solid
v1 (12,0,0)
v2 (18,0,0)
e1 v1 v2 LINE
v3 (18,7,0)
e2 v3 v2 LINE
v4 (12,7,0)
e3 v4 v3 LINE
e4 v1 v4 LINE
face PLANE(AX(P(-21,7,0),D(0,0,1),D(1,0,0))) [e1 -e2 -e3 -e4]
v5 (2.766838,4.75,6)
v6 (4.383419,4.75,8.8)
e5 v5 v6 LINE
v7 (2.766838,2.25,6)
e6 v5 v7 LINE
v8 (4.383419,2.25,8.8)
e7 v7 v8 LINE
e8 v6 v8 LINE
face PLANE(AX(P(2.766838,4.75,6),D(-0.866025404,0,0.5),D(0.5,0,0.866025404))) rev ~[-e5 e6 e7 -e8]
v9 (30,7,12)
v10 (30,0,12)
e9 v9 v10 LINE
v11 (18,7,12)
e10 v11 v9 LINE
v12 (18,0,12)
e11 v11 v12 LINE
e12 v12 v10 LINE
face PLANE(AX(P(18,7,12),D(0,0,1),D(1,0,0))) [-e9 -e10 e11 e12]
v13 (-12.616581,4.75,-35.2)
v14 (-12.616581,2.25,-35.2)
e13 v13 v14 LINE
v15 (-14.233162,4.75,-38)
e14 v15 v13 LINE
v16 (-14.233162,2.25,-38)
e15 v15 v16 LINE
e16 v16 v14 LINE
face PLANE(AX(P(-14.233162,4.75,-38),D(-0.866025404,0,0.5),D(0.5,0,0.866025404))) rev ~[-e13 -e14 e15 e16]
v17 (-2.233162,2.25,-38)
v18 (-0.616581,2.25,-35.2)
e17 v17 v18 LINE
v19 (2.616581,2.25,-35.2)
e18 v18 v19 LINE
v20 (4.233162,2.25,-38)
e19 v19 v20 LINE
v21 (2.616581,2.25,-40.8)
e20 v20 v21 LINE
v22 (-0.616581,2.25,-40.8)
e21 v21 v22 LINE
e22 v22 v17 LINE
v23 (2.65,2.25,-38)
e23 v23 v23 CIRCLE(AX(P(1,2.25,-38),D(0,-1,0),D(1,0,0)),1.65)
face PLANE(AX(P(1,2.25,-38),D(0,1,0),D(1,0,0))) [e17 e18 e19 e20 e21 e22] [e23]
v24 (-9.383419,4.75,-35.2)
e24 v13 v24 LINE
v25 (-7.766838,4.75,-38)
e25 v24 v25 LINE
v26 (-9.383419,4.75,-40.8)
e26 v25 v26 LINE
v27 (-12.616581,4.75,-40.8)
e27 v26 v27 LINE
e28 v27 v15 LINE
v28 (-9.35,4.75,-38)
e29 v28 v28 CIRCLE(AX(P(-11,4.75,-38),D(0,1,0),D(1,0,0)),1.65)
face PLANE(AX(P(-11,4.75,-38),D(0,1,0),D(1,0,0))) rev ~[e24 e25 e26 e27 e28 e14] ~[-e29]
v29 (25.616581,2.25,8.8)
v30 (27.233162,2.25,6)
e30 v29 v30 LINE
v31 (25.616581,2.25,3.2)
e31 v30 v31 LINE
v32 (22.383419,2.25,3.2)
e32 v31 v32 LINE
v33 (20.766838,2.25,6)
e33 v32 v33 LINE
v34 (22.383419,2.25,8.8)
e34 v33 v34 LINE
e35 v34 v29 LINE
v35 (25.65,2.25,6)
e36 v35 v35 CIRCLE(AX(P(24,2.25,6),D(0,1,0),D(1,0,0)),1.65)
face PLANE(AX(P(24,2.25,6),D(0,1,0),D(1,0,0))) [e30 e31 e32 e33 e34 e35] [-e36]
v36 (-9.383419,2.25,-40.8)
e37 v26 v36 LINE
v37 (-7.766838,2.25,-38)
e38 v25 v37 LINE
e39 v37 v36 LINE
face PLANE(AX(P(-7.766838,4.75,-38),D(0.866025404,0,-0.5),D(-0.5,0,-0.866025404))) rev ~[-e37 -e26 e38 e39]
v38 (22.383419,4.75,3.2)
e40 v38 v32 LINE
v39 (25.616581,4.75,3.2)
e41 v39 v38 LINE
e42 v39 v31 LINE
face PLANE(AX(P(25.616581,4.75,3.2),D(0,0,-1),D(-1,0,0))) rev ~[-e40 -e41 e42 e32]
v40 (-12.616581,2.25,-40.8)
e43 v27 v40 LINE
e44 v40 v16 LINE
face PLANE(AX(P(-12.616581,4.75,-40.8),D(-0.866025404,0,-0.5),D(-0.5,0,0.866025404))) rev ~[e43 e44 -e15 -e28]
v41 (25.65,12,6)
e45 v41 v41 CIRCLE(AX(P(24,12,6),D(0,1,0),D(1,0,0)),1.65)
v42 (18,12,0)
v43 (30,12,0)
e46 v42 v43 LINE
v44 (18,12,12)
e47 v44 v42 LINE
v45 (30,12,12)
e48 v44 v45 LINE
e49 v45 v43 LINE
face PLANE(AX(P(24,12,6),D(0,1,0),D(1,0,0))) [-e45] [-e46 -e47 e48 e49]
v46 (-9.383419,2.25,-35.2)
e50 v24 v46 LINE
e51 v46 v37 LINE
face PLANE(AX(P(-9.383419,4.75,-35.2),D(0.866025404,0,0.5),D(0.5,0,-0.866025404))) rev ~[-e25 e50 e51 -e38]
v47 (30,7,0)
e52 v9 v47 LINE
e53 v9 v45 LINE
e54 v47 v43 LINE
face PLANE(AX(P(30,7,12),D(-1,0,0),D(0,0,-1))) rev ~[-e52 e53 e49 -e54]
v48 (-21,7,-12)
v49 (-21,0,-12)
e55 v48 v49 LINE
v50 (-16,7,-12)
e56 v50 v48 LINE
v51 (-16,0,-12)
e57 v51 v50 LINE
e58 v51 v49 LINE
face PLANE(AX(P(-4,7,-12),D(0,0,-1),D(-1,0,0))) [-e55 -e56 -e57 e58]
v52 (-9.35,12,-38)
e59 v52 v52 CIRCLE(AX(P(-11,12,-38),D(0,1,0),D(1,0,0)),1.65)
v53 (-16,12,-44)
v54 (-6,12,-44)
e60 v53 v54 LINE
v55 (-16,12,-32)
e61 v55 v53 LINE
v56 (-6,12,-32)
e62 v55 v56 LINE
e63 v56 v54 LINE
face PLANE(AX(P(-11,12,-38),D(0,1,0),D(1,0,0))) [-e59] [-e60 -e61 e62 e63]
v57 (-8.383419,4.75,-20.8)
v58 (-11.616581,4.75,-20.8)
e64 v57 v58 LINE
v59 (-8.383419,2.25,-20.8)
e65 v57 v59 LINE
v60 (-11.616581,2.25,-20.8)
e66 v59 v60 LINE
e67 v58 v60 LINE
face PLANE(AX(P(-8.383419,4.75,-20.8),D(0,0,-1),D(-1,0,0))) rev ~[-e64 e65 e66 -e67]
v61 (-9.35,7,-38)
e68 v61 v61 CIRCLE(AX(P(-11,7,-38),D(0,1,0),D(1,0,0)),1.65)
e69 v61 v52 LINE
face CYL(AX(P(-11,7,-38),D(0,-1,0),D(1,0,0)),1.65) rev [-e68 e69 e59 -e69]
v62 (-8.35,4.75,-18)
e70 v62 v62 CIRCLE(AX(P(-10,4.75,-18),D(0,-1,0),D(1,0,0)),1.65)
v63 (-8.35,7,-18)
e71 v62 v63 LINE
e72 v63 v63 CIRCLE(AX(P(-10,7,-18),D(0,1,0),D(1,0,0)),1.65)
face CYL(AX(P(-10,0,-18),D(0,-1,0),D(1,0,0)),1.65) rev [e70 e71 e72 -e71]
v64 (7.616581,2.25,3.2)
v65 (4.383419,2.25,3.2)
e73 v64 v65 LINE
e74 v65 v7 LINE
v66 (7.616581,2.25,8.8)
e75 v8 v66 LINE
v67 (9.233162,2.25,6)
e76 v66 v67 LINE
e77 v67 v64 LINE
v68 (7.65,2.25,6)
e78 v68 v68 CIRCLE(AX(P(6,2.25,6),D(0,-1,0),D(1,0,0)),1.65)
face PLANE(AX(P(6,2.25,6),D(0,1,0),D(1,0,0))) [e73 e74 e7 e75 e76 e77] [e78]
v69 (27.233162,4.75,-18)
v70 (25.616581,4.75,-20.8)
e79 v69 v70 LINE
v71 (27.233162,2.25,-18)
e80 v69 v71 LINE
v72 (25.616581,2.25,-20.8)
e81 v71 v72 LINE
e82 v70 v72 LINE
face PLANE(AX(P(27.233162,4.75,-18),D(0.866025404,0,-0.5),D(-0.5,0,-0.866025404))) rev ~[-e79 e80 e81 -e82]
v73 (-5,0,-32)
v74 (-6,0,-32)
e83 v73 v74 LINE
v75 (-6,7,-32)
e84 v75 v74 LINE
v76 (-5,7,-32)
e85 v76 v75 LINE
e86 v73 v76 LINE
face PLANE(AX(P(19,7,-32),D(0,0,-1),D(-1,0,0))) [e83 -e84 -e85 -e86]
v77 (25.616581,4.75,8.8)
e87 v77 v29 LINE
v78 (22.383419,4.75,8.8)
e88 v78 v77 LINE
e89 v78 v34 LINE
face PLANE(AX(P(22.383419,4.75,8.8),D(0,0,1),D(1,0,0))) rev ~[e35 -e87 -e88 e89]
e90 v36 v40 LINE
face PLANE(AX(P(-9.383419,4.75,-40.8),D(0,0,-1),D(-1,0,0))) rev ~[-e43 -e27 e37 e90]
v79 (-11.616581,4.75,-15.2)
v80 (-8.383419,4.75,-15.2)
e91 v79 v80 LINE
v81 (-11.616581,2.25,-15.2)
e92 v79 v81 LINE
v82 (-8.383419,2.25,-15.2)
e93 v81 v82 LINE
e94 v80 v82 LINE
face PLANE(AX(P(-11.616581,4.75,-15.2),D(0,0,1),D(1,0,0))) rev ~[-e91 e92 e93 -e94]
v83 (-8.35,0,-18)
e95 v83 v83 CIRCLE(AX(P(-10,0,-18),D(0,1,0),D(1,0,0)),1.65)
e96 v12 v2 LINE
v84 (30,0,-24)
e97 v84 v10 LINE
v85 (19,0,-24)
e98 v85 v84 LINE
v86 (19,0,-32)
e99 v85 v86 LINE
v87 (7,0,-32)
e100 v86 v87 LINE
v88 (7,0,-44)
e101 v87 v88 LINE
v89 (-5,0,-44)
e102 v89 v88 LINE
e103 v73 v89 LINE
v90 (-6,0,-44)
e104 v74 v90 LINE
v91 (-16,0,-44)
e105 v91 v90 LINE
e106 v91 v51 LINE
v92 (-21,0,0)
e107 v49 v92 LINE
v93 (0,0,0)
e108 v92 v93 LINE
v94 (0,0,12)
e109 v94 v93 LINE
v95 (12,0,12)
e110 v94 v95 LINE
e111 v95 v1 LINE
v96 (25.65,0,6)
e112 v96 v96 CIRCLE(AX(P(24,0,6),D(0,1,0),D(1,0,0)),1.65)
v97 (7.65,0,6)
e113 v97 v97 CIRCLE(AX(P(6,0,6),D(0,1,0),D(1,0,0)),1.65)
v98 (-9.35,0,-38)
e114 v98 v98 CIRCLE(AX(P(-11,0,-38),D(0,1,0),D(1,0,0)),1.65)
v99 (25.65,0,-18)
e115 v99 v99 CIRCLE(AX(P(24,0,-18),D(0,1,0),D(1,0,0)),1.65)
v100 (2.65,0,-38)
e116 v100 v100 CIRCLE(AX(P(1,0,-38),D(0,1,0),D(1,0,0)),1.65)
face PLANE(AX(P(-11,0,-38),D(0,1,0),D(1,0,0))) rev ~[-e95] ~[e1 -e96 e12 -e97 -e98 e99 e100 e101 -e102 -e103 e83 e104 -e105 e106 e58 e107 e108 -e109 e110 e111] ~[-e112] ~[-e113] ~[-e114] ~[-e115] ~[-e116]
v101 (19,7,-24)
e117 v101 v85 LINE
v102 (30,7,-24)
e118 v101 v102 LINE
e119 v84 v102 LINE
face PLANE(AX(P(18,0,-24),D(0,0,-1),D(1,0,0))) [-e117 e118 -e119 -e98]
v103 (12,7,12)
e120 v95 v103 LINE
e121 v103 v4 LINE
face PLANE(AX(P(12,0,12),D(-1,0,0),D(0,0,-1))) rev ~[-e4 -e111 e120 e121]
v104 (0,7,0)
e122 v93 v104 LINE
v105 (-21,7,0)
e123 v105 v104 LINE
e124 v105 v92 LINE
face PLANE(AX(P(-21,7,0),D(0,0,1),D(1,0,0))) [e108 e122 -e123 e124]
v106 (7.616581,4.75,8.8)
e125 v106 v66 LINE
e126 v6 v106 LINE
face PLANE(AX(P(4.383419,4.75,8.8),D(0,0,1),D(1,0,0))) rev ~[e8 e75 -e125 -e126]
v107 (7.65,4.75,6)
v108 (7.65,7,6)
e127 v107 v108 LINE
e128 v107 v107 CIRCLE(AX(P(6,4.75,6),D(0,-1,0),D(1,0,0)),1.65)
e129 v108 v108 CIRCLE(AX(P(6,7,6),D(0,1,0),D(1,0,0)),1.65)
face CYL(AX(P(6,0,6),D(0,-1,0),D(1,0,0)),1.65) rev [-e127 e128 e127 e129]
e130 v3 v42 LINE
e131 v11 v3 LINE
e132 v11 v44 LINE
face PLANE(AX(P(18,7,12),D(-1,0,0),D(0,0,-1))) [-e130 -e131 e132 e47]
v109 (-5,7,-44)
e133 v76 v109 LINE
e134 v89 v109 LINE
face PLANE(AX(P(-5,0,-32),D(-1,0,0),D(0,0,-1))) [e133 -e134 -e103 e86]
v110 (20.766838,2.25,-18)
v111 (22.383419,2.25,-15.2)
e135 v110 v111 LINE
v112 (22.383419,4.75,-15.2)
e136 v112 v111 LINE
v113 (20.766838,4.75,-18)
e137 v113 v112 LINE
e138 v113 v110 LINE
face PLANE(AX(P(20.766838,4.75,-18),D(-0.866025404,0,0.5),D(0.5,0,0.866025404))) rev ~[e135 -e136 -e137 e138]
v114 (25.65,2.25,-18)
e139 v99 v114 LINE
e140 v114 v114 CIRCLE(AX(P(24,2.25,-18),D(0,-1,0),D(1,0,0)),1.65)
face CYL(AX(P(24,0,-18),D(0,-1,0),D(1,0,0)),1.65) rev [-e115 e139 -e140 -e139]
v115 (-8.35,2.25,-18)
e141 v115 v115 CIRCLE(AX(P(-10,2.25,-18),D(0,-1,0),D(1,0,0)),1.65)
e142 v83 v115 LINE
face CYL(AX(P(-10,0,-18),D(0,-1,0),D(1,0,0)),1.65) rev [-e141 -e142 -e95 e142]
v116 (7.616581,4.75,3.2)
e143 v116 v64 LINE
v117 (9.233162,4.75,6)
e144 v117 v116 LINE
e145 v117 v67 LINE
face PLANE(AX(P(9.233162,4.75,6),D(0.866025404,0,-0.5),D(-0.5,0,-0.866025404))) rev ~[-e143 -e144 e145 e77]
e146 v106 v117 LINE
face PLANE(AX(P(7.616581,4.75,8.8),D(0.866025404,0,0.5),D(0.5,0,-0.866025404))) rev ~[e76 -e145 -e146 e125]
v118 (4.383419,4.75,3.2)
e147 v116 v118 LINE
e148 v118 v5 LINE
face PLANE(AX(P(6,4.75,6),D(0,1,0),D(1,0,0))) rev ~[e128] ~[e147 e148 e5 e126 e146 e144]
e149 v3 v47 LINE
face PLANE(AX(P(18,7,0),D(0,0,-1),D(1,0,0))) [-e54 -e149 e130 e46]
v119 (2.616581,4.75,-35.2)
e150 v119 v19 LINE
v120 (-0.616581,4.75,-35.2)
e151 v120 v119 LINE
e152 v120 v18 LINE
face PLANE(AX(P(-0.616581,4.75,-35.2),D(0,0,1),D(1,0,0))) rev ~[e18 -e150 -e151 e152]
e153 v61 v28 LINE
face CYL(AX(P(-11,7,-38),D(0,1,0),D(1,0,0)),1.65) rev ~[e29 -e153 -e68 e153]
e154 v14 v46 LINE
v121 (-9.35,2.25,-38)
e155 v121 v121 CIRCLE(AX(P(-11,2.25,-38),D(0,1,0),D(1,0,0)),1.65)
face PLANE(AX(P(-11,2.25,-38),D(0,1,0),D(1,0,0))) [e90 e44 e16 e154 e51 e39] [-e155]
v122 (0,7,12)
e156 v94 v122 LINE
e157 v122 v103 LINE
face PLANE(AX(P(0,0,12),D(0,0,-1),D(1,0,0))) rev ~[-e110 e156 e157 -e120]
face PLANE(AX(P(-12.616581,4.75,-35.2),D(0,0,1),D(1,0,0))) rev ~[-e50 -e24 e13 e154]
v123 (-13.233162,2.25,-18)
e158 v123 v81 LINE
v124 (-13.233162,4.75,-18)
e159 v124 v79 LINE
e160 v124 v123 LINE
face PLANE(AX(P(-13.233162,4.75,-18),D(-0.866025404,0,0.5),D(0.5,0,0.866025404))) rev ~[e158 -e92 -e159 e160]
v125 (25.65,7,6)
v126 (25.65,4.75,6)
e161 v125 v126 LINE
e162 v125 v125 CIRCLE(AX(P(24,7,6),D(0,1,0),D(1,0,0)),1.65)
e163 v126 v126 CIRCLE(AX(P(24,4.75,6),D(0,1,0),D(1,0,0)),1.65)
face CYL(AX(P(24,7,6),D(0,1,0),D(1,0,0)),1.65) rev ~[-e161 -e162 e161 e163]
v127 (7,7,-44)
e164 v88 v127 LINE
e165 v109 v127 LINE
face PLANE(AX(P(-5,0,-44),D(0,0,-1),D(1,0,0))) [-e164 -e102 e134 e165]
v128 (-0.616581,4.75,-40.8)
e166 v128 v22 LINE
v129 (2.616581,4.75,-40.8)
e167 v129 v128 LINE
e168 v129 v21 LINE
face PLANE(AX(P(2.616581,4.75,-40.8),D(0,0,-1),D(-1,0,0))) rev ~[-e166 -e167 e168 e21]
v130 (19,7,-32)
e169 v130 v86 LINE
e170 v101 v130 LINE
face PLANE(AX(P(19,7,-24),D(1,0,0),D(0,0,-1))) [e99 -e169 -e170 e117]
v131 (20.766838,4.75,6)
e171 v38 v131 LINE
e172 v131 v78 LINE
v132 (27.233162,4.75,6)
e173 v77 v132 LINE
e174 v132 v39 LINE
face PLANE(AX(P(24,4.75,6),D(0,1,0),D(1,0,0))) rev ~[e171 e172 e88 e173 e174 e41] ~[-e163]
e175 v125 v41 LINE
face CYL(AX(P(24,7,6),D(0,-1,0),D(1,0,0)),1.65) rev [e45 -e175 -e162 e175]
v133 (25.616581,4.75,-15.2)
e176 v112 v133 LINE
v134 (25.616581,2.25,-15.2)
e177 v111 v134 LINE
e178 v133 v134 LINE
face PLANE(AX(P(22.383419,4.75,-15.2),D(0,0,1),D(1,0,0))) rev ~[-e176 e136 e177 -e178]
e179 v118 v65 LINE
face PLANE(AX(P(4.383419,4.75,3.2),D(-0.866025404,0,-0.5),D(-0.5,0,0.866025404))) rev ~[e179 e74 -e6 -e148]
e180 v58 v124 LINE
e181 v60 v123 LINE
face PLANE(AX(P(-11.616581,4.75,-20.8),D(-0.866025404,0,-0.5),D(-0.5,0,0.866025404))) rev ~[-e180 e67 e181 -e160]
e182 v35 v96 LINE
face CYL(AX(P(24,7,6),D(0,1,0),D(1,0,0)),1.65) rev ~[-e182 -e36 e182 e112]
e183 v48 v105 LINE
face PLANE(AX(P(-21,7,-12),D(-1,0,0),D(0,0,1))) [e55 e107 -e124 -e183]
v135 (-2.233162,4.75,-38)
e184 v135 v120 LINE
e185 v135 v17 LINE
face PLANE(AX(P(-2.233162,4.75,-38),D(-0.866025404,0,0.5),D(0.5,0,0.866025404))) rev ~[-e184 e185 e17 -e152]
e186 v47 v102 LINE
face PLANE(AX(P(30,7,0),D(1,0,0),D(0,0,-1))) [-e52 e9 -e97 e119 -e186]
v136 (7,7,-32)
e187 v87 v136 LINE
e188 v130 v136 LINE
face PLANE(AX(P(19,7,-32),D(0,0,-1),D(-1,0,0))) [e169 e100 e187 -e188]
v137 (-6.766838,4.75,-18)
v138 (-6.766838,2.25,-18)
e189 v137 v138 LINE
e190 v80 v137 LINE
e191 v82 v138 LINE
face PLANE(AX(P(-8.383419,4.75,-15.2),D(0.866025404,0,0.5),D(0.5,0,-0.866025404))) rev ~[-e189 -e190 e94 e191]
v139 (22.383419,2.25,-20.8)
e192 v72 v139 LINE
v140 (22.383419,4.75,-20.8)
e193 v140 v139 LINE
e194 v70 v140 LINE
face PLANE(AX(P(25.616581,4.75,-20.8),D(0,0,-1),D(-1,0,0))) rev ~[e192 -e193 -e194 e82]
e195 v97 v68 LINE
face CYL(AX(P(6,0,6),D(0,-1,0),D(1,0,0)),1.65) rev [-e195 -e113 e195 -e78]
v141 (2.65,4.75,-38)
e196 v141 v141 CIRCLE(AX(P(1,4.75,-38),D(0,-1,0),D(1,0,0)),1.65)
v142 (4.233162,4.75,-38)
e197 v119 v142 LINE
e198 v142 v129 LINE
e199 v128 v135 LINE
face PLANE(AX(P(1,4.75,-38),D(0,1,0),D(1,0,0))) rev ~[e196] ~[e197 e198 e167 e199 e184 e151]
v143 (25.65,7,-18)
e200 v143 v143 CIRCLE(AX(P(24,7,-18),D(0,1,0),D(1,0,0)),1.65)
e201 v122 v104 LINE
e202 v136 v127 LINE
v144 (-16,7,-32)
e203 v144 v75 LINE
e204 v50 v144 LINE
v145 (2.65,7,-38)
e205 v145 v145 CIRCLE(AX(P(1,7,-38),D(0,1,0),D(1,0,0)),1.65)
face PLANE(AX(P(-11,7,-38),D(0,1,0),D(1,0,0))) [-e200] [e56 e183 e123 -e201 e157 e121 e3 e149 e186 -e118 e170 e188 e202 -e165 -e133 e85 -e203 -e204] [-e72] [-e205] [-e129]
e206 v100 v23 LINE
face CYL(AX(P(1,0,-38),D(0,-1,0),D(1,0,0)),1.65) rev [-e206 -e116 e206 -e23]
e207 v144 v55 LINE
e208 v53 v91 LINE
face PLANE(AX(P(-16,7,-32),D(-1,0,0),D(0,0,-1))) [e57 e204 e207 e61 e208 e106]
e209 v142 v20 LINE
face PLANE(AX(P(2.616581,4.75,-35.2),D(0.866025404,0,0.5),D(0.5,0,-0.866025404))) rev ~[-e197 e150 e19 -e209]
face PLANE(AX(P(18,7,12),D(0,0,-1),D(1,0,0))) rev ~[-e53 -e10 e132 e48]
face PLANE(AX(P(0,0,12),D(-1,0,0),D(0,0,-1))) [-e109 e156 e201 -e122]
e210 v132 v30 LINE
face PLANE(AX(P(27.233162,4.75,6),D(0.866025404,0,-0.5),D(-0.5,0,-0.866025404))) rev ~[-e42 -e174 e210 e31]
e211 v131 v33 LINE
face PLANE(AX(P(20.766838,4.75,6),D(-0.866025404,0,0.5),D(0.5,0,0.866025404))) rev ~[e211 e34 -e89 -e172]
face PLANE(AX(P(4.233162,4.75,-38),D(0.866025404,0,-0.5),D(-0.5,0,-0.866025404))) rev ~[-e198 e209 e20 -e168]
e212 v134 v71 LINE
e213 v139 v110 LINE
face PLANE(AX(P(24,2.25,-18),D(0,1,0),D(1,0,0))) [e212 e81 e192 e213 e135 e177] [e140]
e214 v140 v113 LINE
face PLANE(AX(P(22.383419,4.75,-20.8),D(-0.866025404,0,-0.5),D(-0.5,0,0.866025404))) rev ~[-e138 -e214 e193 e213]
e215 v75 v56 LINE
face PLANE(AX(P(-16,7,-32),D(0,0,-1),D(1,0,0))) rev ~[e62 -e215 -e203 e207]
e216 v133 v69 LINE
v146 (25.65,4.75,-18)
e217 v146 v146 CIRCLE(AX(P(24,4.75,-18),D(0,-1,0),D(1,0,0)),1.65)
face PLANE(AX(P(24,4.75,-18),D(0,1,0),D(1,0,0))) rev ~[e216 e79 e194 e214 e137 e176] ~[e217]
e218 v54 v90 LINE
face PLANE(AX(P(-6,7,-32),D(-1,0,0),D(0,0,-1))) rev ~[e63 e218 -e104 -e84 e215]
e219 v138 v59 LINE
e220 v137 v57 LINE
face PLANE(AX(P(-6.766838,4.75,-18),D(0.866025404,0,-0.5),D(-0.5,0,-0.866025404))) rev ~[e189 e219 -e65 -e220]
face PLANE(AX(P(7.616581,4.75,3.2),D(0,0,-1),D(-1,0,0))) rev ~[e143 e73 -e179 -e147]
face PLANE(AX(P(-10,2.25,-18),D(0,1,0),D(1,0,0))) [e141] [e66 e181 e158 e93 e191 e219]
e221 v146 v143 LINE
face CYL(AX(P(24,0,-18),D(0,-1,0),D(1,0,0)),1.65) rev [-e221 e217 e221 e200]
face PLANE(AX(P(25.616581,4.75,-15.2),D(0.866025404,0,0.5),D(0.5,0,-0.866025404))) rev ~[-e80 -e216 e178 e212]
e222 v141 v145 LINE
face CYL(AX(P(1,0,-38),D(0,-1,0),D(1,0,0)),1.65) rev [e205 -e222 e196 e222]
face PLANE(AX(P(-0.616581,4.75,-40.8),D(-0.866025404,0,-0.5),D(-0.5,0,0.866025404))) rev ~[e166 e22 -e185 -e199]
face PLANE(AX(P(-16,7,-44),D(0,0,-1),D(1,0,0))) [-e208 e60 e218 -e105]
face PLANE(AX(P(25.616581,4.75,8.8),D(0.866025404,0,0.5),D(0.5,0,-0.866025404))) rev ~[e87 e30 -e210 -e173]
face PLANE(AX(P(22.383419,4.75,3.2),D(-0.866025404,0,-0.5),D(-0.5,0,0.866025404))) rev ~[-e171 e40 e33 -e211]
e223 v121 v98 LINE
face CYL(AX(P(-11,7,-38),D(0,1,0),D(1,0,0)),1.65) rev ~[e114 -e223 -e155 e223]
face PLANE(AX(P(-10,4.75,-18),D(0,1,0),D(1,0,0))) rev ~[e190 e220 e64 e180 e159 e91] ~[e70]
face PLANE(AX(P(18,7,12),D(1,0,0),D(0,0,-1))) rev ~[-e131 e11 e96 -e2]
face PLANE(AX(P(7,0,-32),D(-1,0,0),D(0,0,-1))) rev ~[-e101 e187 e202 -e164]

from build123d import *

# Parameters (mm, degrees)
SKETCH1_W             = 12
SKETCH1_H             = 12
SKETCH1_R             = 1.65
BOSS_EXTRUDE1_DEPTH   = 7
BOSS_EXTRUDE1_2_DEPTH = 7
BOSS_EXTRUDE1_3_DEPTH = 7
BOSS_EXTRUDE1_4_DEPTH = 7
CUT_EXTRUDE1_START    = -2.25
CUT_EXTRUDE1_DEPTH    = 2.5
SKETCH3_W             = 22
SKETCH3_H             = 12
BOSS_EXTRUDE2_DEPTH   = 7
SKETCH4_W             = 10
SKETCH4_H             = 12
SKETCH4_R             = 1.65
SKETCH4_W_2           = 12
BOSS_EXTRUDE3_DEPTH   = 7
CUT_EXTRUDE2_START    = -2.25
CUT_EXTRUDE2_DEPTH    = 2.5
SKETCH6_W             = 10
SKETCH6_H             = 12
SKETCH6_R             = 1.65
SKETCH6_W_2           = 12
BOSS_EXTRUDE4_DEPTH   = 5


with BuildPart() as part:
    # Sketch1 → Boss-Extrude1 (new body)
    with BuildSketch(Plane(origin=(0, 0, 0), x_dir=(1, 0, 0), z_dir=(0, 1, 0))):
        with Locations((1, 38)):
            Rectangle(SKETCH1_W, SKETCH1_H)
        with Locations((1, 38)):
            Circle(SKETCH1_R, mode=Mode.SUBTRACT)
    extrude(amount=BOSS_EXTRUDE1_DEPTH)


with BuildPart() as body_2:
    # Sketch1 → Boss-Extrude1 2 (new body)
    with BuildSketch(Plane(origin=(0, 0, 0), x_dir=(1, 0, 0), z_dir=(0, 1, 0))):
        with Locations((6, -6)):
            Rectangle(SKETCH1_W, SKETCH1_H)
        with Locations((6, -6)):
            Circle(SKETCH1_R, mode=Mode.SUBTRACT)
    extrude(amount=BOSS_EXTRUDE1_2_DEPTH)


with BuildPart() as body_3:
    # Sketch1 → Boss-Extrude1 3 (new body)
    with BuildSketch(Plane(origin=(0, 0, 0), x_dir=(1, 0, 0), z_dir=(0, 1, 0))):
        with Locations((-10, 18)):
            Rectangle(SKETCH1_W, SKETCH1_H)
        with Locations((-10, 18)):
            Circle(SKETCH1_R, mode=Mode.SUBTRACT)
    extrude(amount=BOSS_EXTRUDE1_3_DEPTH)


with BuildPart() as body_4:
    # Sketch1 → Boss-Extrude1 4 (new body)
    with BuildSketch(Plane(origin=(0, 0, 0), x_dir=(1, 0, 0), z_dir=(0, 1, 0))):
        with Locations((24, 18)):
            Rectangle(SKETCH1_W, SKETCH1_H)
        with Locations((24, 18)):
            Circle(SKETCH1_R, mode=Mode.SUBTRACT)
    extrude(amount=BOSS_EXTRUDE1_4_DEPTH)


with BuildPart() as cut_extrude1_tool:
    # Sketch2 → Cut-Extrude1 (new body)
    with BuildSketch(Plane(origin=(0, 7, 0), x_dir=(1, 0, 0), z_dir=(0, 1, 0)).offset(CUT_EXTRUDE1_START)):
        Polygon((9.233161507, -6), (7.616580754, -3.2), (4.383419246, -3.2), (2.766838493, -6), (4.383419246, -8.8), (7.616580754, -8.8), align=None)
        Polygon((20.766838493, 18), (22.383419246, 15.2), (25.616580754, 15.2), (27.233161507, 18), (25.616580754, 20.8), (22.383419246, 20.8), align=None)
        Polygon((-2.233161507, 38), (-0.616580754, 35.2), (2.616580754, 35.2), (4.233161507, 38), (2.616580754, 40.8), (-0.616580754, 40.8), align=None)
        Polygon((-13.233161507, 18), (-11.616580754, 15.2), (-8.383419246, 15.2), (-6.766838493, 18), (-8.383419246, 20.8), (-11.616580754, 20.8), align=None)
    extrude(amount=-CUT_EXTRUDE1_DEPTH)


with BuildPart() as part_1:
    add(part.part)

    # Cut-Extrude1: cut by cut_extrude1_tool
    add(cut_extrude1_tool.part, mode=Mode.SUBTRACT)



with BuildPart() as body_2_1:
    add(body_2.part)

    # Cut-Extrude1: cut by cut_extrude1_tool
    add(cut_extrude1_tool.part, mode=Mode.SUBTRACT)


with BuildPart() as body_3_1:
    add(body_3.part)

    # Cut-Extrude1: cut by cut_extrude1_tool
    add(cut_extrude1_tool.part, mode=Mode.SUBTRACT)


with BuildPart() as body_4_1:
    add(body_4.part)

    # Cut-Extrude1: cut by cut_extrude1_tool
    add(cut_extrude1_tool.part, mode=Mode.SUBTRACT)


with BuildPart() as part_2:
    add(part_1.part)

    add(body_2_1.part)  # Boss-Extrude2 merges body 2

    add(body_3_1.part)  # Boss-Extrude2 merges body 3

    add(body_4_1.part)  # Boss-Extrude2 merges body 4
    # Sketch3 → Boss-Extrude2 (add)
    with BuildSketch(Plane(origin=(0, 7, 0), x_dir=(1, 0, 0), z_dir=(0, 1, 0))):
        Polygon((-16, 24), (-4, 24), (18, 24), (19, 24), (19, 32), (-16, 32), align=None)
        with Locations((7, 18)):
            Rectangle(SKETCH3_W, SKETCH3_H)
        Polygon((-21, 12), (-21, 0), (0, 0), (12, 0), (30, 0), (30, 12), (18, 12), (-4, 12), align=None)
    extrude(amount=-BOSS_EXTRUDE2_DEPTH)

    # Sketch4 → Boss-Extrude3 (add)
    with BuildSketch(Plane(origin=(0, 7, 0), x_dir=(1, 0, 0), z_dir=(0, 1, 0))):
        with Locations((-11, 38)):
            Rectangle(SKETCH4_W, SKETCH4_H)
        with Locations((-11, 38)):
            Circle(SKETCH4_R, mode=Mode.SUBTRACT)
        with Locations((24, -6)):
            Rectangle(SKETCH4_W_2, SKETCH4_H)
        with Locations((24, -6)):
            Circle(SKETCH4_R, mode=Mode.SUBTRACT)
    extrude(amount=-BOSS_EXTRUDE3_DEPTH)

    # Sketch5 → Cut-Extrude2 (cut)
    with BuildSketch(Plane(origin=(0, 7, 0), x_dir=(1, 0, 0), z_dir=(0, 1, 0)).offset(CUT_EXTRUDE2_START)):
        Polygon((-7.766838493, 38), (-9.383419246, 40.8), (-12.616580754, 40.8), (-14.233161507, 38), (-12.616580754, 35.2), (-9.383419246, 35.2), align=None)
        Polygon((27.233161507, -6), (25.616580754, -3.2), (22.383419246, -3.2), (20.766838493, -6), (22.383419246, -8.8), (25.616580754, -8.8), align=None)
    extrude(amount=-CUT_EXTRUDE2_DEPTH, mode=Mode.SUBTRACT)

    # Sketch6 → Boss-Extrude4 (add)
    with BuildSketch(Plane(origin=(0, 7, 0), x_dir=(1, 0, 0), z_dir=(0, 1, 0))):
        with Locations((-11, 38)):
            Rectangle(SKETCH6_W, SKETCH6_H)
        with Locations((-11, 38)):
            Circle(SKETCH6_R, mode=Mode.SUBTRACT)
        with Locations((24, -6)):
            Rectangle(SKETCH6_W_2, SKETCH6_H)
        with Locations((24, -6)):
            Circle(SKETCH6_R, mode=Mode.SUBTRACT)
    extrude(amount=BOSS_EXTRUDE4_DEPTH)


solid = part_2.part
